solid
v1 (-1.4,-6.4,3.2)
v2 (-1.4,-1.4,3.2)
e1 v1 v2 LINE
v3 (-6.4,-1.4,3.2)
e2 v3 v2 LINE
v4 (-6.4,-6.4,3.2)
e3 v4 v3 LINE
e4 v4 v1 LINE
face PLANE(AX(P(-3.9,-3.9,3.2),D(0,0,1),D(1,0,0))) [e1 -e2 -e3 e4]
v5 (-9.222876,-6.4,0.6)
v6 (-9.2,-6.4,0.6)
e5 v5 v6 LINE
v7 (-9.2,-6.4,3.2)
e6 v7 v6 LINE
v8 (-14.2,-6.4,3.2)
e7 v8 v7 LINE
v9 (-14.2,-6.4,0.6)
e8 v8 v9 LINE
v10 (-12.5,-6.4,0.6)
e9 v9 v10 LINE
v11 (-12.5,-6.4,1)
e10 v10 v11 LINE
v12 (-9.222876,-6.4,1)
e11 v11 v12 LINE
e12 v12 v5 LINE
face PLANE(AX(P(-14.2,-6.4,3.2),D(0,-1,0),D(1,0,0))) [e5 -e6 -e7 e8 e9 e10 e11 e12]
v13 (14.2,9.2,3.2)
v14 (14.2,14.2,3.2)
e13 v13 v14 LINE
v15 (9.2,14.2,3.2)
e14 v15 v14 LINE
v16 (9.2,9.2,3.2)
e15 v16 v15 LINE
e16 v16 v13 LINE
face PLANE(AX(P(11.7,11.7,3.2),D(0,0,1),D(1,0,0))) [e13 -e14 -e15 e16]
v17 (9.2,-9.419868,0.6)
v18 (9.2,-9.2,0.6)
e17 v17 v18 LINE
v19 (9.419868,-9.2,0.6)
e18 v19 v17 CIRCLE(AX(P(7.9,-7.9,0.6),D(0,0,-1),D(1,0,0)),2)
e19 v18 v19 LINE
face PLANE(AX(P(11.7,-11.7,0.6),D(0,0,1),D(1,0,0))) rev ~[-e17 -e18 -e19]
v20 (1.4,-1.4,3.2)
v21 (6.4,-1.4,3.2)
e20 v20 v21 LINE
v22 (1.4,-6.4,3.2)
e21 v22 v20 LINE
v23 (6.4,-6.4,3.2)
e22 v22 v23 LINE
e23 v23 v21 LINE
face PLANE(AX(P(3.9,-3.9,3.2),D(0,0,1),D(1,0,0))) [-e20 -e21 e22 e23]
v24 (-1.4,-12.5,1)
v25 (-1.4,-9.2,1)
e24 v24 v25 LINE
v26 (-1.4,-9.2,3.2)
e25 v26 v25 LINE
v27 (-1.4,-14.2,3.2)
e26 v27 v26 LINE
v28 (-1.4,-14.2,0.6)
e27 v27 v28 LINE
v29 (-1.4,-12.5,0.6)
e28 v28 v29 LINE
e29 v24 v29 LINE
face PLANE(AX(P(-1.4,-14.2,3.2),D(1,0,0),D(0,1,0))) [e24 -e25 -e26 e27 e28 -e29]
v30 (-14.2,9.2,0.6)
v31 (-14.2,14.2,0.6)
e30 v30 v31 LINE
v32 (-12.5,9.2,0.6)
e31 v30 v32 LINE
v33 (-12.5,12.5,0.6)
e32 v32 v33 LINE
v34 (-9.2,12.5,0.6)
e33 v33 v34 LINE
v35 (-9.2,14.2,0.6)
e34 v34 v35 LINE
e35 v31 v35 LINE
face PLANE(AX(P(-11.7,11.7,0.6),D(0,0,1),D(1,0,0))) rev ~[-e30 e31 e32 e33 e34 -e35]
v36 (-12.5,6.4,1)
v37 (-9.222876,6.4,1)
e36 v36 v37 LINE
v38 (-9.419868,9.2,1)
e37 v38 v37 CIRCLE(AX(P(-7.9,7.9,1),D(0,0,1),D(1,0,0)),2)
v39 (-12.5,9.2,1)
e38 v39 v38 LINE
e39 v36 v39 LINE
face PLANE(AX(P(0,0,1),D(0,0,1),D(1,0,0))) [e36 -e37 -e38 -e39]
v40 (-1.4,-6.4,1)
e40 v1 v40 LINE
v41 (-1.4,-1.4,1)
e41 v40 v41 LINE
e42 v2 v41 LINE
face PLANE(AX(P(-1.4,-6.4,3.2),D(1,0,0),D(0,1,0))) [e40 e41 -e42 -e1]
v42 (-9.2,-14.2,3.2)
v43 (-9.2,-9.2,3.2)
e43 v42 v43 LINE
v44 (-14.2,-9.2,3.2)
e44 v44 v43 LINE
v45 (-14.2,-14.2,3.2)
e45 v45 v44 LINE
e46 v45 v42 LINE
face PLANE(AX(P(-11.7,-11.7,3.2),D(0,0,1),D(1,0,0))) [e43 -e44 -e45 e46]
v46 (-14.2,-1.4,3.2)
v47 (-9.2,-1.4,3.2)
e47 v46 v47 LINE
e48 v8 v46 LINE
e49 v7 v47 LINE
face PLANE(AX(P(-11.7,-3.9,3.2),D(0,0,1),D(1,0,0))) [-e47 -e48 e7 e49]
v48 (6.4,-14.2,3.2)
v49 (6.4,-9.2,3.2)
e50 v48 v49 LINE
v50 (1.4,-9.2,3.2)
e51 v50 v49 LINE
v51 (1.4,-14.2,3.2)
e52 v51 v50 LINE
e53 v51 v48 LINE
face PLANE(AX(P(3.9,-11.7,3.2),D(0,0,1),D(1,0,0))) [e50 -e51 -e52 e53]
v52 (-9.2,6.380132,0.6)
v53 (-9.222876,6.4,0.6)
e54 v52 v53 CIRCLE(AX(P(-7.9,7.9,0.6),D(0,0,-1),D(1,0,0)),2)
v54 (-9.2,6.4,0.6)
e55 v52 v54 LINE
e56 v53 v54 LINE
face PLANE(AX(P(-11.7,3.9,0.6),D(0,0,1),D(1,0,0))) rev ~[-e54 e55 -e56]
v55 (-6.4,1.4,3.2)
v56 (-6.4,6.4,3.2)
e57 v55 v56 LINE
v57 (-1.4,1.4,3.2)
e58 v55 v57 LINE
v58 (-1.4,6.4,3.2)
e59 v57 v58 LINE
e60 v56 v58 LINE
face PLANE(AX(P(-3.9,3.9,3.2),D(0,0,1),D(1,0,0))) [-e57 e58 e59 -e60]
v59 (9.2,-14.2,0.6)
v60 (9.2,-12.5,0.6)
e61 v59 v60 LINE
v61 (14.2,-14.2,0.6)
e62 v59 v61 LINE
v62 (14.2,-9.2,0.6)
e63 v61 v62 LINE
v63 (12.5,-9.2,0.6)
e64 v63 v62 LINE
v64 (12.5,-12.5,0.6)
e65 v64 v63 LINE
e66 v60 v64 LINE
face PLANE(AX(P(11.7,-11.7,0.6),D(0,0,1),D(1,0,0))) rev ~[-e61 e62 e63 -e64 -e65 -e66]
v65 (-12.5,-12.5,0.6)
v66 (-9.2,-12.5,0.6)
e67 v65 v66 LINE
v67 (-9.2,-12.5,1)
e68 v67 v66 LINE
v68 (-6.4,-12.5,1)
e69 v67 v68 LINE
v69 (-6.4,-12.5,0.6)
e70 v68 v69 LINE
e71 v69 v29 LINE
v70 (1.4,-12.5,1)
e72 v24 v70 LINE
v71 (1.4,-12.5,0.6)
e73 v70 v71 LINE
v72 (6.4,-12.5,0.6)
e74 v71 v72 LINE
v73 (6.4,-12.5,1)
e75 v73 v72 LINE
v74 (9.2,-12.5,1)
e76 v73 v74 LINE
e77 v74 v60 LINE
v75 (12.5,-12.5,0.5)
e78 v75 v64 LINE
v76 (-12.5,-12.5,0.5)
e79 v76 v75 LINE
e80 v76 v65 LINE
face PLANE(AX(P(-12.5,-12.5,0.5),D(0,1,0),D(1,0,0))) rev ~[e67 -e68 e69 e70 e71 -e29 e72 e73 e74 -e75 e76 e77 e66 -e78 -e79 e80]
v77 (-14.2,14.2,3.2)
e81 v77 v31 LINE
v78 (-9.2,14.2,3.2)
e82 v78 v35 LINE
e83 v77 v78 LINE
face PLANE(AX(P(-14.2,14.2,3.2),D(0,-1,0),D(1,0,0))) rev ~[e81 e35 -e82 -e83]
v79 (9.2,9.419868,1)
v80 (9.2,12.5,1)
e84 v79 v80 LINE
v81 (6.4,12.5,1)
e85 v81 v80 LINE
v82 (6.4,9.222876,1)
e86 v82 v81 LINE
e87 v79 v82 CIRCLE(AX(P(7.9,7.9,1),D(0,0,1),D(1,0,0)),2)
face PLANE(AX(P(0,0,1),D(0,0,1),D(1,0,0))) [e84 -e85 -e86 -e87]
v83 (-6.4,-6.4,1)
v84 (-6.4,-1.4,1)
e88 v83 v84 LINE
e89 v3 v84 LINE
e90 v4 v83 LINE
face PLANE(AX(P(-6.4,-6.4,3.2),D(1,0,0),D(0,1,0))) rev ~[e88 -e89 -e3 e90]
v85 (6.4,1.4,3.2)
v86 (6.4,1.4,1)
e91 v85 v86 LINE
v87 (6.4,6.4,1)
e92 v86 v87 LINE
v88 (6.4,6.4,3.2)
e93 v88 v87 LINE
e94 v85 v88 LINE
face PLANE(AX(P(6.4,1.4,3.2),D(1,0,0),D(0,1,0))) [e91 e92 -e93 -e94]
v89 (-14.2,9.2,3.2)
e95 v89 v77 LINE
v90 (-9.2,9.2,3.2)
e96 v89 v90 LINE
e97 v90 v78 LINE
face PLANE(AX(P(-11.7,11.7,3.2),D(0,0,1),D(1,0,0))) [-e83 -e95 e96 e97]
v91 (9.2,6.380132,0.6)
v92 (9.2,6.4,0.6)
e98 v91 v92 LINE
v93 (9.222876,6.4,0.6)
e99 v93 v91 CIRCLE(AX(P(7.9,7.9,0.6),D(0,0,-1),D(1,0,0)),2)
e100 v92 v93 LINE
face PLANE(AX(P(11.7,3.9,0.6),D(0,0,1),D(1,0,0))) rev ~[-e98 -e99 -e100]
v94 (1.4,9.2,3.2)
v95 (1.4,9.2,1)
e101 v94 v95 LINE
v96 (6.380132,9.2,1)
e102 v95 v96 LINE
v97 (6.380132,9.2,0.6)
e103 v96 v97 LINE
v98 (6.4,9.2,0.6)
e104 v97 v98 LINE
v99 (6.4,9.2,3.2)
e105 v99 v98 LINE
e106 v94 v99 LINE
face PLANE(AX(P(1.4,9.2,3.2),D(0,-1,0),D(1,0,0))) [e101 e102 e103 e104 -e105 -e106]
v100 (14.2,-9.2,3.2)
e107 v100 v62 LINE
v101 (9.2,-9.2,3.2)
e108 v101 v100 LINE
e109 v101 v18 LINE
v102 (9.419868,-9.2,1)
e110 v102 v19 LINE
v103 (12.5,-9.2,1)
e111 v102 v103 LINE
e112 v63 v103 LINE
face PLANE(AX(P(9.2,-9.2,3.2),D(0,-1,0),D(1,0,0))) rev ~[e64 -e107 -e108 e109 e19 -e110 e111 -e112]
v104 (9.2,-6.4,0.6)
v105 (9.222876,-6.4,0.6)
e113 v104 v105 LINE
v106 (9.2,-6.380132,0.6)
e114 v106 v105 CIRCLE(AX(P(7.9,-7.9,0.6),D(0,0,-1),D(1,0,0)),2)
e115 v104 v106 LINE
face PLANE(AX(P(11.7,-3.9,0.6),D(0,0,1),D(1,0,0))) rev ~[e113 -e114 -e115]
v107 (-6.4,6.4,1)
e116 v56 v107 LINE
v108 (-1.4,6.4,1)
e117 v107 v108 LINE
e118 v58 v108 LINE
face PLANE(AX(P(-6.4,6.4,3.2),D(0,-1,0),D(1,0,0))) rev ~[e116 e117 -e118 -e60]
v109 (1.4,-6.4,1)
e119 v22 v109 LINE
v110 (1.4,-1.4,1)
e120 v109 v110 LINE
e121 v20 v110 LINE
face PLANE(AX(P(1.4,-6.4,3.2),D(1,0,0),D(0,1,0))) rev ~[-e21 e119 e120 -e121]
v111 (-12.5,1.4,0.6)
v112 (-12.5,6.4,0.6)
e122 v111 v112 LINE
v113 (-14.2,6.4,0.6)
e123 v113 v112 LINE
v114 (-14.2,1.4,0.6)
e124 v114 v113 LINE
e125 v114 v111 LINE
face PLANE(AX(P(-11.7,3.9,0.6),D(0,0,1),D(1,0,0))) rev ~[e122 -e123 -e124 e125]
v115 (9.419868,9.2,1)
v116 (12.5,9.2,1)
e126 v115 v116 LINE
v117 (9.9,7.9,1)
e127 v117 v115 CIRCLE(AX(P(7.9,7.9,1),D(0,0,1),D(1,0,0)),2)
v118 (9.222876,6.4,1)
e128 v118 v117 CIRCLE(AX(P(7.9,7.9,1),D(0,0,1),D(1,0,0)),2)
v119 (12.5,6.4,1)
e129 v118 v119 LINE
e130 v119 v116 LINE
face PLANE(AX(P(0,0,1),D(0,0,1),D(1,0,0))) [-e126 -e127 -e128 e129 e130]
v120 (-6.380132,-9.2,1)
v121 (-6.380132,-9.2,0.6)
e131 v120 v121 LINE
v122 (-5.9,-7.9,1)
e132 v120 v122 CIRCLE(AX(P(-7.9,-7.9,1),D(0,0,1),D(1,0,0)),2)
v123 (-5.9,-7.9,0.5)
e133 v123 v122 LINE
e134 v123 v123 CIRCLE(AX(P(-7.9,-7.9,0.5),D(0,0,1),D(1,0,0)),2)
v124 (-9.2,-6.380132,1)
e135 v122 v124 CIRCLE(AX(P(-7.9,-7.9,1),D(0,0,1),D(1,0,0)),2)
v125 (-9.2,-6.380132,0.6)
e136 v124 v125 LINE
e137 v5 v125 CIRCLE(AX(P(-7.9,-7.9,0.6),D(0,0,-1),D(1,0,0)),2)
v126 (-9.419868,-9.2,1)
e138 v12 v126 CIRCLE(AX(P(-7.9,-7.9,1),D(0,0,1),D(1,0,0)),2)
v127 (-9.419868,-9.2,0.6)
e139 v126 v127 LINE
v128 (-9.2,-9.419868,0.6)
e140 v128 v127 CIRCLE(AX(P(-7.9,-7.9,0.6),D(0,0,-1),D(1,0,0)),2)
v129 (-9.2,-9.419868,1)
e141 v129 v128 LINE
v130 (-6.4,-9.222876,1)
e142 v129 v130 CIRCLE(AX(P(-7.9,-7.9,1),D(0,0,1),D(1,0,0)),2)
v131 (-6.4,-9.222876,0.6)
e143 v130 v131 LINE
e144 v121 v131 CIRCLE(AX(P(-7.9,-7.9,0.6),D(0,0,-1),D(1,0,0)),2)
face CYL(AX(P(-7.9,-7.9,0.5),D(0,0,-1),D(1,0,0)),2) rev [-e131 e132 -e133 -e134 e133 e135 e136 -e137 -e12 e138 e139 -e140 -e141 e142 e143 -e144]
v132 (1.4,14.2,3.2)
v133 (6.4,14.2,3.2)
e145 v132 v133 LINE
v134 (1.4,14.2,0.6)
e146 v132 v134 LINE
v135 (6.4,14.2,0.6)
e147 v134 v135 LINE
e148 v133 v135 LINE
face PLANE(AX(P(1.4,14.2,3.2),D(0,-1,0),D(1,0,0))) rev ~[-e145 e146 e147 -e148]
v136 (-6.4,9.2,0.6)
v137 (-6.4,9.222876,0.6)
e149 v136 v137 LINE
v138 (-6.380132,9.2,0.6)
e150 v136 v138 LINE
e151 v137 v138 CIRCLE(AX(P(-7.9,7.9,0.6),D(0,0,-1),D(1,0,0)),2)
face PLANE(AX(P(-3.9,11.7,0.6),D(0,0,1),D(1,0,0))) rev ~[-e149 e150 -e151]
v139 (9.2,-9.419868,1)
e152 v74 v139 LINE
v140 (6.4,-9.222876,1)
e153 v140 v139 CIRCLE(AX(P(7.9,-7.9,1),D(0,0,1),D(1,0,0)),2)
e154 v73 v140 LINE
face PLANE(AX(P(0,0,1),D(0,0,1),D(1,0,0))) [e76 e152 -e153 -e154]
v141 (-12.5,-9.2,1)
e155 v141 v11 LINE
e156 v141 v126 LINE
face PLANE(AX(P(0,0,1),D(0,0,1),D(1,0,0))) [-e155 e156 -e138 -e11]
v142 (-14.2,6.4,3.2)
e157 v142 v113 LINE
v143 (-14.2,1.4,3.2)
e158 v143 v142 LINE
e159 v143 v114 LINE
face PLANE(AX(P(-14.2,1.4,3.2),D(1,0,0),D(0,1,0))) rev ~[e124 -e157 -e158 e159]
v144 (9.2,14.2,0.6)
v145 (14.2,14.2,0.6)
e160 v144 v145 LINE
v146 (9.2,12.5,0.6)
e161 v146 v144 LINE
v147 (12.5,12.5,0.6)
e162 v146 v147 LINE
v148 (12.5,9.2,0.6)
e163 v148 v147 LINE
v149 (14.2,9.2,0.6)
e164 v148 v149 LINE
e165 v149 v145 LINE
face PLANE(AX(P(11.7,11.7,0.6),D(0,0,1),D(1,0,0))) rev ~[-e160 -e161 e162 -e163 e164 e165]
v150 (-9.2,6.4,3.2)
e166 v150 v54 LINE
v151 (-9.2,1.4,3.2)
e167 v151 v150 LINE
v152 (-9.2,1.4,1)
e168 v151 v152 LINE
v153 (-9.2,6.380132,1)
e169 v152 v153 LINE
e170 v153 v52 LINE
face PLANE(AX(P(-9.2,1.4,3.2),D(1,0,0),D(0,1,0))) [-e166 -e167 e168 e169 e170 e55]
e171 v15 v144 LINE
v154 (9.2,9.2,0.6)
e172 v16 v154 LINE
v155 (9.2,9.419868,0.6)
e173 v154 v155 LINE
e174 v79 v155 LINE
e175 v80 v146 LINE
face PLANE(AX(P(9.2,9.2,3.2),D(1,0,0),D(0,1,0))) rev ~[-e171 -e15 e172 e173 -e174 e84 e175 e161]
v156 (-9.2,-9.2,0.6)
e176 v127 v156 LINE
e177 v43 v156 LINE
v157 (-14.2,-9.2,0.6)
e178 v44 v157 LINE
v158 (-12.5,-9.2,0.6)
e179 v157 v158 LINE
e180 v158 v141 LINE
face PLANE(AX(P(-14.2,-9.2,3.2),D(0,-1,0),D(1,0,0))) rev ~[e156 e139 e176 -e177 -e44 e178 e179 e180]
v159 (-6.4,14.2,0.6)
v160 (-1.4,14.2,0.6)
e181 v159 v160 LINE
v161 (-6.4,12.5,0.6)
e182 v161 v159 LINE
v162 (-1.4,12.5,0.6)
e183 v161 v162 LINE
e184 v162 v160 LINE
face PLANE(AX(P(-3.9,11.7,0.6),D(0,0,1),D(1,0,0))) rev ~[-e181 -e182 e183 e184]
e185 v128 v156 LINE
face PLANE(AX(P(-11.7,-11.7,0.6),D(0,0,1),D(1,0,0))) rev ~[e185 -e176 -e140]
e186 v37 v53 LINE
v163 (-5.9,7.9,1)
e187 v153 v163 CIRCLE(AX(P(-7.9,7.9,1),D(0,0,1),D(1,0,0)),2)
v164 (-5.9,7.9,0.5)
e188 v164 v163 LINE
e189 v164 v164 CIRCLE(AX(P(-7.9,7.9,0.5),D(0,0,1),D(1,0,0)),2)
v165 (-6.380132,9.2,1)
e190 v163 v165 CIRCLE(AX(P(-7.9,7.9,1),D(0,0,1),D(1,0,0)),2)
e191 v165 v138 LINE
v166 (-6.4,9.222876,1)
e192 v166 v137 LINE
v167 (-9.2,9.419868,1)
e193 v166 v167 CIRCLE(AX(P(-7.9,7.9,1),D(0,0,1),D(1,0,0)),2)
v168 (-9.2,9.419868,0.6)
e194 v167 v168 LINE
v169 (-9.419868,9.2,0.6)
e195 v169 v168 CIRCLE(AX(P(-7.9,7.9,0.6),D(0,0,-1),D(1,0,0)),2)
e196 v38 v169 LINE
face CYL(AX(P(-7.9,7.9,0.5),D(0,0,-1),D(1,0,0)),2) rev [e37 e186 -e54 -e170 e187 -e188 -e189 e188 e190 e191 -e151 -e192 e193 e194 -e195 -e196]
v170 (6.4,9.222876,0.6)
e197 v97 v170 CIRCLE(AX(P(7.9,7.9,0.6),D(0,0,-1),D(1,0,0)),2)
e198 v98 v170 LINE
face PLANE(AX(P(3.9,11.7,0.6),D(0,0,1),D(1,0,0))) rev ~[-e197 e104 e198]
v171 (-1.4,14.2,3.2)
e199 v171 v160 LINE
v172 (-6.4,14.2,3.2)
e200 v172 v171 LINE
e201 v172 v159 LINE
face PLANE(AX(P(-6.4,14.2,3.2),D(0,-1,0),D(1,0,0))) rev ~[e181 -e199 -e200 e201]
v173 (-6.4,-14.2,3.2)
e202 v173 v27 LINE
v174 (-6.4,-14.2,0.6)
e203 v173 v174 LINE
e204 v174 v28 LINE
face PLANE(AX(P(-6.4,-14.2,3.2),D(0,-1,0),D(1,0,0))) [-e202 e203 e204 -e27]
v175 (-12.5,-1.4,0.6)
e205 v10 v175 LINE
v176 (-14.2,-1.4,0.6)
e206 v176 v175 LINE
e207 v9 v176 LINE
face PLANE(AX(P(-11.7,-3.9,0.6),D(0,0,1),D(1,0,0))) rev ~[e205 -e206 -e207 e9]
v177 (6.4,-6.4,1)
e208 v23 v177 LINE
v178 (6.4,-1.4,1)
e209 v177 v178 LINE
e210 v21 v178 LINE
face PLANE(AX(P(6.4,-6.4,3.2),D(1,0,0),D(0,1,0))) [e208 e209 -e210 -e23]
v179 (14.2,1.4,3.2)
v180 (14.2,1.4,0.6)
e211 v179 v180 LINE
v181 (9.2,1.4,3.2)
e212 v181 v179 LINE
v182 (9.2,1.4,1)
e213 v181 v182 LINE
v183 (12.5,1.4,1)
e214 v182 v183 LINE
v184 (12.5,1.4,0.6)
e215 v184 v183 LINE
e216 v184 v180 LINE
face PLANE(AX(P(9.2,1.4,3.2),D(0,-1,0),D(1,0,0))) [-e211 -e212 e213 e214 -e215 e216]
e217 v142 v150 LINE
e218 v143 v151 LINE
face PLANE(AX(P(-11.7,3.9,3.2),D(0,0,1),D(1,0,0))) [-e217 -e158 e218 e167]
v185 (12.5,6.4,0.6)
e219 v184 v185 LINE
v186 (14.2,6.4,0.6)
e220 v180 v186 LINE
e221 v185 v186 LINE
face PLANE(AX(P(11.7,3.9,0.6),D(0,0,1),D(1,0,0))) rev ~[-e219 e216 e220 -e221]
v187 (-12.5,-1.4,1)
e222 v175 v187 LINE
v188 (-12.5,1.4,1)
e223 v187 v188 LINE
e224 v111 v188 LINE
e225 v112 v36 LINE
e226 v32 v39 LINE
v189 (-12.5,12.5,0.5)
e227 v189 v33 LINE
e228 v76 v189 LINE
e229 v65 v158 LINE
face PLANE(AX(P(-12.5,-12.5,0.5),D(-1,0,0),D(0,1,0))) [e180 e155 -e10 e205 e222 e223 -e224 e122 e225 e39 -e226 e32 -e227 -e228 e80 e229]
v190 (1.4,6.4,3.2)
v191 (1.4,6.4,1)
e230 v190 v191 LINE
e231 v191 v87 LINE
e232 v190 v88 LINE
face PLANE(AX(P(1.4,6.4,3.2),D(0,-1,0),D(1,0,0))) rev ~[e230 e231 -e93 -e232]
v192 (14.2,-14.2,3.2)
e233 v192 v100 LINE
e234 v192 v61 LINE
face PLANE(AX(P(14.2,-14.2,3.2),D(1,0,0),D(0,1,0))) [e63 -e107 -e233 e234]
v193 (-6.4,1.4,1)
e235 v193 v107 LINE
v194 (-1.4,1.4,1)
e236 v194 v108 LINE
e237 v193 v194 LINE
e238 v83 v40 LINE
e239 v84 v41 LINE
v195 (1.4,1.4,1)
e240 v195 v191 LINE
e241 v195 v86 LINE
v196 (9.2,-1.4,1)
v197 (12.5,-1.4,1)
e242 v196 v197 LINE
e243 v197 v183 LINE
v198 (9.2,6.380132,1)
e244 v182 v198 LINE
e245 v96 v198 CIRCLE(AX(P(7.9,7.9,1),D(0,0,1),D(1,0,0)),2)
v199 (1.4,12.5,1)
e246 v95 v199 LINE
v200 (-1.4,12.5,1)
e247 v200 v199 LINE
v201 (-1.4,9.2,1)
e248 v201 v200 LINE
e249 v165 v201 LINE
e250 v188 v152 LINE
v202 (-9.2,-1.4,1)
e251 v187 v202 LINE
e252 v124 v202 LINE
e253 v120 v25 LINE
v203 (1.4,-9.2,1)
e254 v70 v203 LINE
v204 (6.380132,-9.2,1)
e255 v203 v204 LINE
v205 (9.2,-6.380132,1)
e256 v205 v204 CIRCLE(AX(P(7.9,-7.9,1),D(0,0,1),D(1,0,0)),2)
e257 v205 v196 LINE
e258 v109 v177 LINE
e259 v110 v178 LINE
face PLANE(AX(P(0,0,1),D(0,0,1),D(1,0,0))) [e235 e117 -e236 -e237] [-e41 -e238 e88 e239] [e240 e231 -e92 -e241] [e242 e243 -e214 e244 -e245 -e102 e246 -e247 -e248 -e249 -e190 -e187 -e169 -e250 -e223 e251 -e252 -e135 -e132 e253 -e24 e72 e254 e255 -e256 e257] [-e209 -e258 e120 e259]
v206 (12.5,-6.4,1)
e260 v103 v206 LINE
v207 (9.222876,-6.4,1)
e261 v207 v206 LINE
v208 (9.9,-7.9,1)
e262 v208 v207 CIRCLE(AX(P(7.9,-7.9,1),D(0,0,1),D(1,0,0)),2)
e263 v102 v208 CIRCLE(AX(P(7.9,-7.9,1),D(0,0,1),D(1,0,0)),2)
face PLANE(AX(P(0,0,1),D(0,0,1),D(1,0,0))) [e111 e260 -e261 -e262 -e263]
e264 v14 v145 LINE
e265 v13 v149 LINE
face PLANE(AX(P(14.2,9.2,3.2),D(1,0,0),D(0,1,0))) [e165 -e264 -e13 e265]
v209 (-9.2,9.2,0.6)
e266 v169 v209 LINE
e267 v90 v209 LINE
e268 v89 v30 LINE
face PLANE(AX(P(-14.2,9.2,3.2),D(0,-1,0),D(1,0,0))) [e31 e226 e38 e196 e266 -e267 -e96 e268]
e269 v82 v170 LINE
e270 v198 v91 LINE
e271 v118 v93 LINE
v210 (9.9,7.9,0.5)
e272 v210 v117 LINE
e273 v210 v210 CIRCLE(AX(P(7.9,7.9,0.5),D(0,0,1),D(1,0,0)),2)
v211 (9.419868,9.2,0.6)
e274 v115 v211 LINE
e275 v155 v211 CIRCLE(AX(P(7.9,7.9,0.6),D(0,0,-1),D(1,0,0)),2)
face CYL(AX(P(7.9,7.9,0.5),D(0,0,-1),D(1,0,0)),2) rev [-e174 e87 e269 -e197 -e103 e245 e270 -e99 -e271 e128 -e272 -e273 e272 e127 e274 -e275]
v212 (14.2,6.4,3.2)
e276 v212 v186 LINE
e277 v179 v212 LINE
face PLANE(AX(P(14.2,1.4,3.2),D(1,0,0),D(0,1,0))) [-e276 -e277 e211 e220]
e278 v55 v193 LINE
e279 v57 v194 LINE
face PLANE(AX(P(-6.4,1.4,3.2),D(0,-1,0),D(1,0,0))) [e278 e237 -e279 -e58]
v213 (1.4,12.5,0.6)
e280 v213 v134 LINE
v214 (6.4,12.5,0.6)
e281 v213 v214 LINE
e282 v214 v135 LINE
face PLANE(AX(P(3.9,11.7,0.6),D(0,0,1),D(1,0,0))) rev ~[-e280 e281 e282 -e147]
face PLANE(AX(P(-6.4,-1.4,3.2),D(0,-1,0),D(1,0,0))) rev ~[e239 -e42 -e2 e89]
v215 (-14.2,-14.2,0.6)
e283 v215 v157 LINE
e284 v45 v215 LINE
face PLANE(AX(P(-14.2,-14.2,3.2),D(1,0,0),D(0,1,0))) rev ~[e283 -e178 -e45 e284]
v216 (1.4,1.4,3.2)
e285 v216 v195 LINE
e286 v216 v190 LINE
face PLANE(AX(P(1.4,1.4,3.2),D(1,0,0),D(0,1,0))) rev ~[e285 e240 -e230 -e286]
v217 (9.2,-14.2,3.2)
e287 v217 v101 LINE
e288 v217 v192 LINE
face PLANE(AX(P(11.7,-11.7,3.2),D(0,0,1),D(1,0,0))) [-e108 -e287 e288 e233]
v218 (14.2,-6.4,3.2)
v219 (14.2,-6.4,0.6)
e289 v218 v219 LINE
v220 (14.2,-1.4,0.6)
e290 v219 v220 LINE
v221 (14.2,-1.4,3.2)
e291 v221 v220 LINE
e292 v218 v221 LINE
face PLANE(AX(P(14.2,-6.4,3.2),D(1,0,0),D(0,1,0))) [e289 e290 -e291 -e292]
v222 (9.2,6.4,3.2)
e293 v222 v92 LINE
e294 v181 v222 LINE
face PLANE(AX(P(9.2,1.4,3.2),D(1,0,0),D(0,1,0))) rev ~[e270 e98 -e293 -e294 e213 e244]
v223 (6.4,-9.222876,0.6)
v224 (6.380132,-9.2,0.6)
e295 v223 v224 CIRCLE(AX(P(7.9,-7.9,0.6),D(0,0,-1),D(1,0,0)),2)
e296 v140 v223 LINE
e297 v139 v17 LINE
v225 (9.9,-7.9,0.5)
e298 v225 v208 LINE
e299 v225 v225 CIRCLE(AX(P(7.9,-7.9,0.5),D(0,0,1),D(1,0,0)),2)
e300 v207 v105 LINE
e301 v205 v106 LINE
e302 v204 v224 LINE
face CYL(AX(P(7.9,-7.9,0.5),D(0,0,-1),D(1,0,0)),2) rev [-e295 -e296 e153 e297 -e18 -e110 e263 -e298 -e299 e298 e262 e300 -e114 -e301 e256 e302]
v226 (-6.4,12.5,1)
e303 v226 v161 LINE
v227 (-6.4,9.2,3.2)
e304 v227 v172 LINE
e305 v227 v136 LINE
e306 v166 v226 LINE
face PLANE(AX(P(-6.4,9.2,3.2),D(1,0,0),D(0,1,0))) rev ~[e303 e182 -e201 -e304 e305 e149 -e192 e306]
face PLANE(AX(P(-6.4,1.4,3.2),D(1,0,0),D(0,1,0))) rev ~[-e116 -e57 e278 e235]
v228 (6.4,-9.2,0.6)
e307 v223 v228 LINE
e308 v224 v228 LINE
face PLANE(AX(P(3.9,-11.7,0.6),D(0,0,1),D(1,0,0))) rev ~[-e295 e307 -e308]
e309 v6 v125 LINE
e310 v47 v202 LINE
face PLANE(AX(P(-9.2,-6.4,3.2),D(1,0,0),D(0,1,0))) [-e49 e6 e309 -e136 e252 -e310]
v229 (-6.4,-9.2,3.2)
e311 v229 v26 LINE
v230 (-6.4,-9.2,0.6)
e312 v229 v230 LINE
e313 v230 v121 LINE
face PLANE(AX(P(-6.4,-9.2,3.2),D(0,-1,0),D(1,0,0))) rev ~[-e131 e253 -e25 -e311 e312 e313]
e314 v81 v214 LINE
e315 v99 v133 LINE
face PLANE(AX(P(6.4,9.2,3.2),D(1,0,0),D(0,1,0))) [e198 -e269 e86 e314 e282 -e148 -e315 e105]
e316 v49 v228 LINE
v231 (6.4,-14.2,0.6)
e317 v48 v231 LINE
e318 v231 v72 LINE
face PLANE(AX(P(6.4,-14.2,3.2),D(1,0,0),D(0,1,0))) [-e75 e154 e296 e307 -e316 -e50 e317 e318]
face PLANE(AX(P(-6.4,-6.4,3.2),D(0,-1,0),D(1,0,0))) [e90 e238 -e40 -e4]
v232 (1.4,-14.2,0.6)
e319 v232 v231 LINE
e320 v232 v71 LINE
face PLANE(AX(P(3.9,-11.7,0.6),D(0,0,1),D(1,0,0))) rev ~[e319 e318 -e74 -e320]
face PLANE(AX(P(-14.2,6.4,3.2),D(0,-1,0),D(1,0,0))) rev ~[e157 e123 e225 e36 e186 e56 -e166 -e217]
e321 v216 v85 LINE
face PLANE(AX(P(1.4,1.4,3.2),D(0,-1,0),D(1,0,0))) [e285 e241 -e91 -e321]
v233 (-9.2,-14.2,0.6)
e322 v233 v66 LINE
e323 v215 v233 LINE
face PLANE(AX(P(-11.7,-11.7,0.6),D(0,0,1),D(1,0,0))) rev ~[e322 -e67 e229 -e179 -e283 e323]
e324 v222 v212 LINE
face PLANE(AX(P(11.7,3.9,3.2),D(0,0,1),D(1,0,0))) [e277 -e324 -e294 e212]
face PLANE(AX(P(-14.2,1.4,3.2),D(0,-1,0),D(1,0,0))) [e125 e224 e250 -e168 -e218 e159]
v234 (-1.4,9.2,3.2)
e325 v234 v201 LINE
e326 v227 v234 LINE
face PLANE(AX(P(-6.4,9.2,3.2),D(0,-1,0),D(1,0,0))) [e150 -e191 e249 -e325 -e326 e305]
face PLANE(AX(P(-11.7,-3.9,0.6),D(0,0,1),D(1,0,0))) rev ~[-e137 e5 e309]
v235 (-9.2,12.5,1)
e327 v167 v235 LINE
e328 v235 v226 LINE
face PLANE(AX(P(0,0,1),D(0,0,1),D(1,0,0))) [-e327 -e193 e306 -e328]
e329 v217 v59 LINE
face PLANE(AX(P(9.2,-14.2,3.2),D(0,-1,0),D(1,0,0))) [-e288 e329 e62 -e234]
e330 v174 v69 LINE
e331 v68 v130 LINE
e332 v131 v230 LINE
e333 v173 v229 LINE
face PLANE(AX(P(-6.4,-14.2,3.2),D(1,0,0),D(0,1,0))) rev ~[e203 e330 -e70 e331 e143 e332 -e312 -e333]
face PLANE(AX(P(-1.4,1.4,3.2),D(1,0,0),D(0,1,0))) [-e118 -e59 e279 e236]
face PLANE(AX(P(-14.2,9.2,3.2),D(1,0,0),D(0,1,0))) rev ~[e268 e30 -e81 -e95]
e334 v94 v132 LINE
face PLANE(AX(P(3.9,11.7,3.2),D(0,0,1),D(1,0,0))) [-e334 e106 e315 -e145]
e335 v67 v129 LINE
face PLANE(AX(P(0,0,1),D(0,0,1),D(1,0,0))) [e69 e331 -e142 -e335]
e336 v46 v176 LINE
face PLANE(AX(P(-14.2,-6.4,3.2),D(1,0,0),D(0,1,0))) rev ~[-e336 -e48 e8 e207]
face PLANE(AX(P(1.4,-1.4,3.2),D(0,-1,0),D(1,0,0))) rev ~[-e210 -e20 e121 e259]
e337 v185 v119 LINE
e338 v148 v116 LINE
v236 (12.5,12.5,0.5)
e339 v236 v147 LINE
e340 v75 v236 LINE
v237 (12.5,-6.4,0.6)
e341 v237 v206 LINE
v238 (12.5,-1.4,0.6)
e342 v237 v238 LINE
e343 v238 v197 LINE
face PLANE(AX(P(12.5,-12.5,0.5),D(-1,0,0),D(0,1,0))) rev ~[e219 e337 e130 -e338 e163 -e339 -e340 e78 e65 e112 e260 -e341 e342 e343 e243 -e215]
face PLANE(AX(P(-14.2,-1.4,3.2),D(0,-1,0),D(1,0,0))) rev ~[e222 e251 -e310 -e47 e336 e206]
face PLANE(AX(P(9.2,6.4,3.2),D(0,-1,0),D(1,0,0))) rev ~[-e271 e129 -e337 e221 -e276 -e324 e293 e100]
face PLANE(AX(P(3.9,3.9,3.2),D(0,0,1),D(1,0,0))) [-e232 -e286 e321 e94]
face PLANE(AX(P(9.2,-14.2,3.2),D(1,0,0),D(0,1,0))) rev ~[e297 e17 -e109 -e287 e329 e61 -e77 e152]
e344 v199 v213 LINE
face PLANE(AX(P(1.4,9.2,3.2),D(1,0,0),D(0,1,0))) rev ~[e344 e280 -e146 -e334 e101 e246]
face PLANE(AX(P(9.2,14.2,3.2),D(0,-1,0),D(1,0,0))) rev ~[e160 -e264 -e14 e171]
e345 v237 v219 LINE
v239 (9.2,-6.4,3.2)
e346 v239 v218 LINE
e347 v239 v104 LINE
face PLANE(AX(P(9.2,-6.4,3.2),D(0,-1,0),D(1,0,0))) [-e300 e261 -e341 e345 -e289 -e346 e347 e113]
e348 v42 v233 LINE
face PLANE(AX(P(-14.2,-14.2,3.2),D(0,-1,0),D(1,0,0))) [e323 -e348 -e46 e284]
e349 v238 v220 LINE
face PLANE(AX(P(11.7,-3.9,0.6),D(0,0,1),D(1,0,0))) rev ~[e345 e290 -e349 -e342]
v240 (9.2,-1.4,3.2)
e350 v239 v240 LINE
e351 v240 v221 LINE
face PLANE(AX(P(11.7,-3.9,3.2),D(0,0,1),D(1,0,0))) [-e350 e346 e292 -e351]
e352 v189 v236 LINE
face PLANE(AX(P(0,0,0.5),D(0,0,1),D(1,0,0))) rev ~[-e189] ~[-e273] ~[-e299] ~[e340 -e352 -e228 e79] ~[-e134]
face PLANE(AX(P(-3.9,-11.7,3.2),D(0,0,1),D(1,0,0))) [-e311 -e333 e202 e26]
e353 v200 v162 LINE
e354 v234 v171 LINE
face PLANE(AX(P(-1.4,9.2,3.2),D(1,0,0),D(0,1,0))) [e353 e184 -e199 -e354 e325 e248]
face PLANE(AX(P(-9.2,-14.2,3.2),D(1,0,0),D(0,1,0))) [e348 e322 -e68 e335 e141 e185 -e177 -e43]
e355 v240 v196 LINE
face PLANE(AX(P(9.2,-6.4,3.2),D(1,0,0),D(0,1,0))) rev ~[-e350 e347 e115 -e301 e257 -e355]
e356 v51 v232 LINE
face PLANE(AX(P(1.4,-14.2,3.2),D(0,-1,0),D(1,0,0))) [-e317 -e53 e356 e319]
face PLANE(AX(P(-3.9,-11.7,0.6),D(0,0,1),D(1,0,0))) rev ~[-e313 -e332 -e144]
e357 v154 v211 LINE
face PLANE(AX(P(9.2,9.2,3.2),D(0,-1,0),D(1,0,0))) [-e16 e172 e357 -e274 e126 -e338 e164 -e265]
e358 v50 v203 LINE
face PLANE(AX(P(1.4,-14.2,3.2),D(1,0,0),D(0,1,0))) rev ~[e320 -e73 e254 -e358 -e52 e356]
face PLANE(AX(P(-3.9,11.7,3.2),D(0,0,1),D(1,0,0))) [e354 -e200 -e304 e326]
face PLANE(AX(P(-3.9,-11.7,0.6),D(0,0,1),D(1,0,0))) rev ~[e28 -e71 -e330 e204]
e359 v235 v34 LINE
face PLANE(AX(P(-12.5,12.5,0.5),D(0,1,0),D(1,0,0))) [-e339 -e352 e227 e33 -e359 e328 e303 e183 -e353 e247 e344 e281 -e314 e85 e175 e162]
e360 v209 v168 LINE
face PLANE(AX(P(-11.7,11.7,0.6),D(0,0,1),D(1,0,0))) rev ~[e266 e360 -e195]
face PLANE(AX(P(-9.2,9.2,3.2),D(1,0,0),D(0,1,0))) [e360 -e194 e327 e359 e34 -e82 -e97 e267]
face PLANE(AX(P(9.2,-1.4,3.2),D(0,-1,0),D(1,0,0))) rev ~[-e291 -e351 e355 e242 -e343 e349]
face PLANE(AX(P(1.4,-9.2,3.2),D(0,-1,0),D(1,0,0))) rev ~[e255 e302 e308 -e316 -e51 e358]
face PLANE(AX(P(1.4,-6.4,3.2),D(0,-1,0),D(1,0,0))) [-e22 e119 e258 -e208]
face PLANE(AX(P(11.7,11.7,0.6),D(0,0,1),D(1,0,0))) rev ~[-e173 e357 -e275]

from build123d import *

# Parameters (mm, degrees)
SKETCH008_W                     = 25
SKETCH008_H                     = 25
SKETCH008_R                     = 2
PAD007_DEPTH                    = 0.5
SKETCH009_W                     = 5
SKETCH009_H                     = 5
PAD008_DEPTH                    = 2.6
SKETCH009_LINEARPATTERN008_2_W  = 5
SKETCH009_LINEARPATTERN008_2_H  = 5
PAD008_LINEARPATTERN008_2_DEPTH = 2.6
SKETCH009_LINEARPATTERN008_3_W  = 5
SKETCH009_LINEARPATTERN008_3_H  = 5
PAD008_LINEARPATTERN008_3_DEPTH = 2.6
SKETCH009_LINEARPATTERN008_4_W  = 5
SKETCH009_LINEARPATTERN008_4_H  = 5
PAD008_LINEARPATTERN008_4_DEPTH = 2.6
LINEARPATTERN007_COUNT          = 4
LINEARPATTERN007_PITCH          = 7.8


with BuildPart() as part:
    # Sketch008 → Pad007 (new body)
    with BuildSketch(Plane.XY.offset(0.5)):
        Rectangle(SKETCH008_W, SKETCH008_H)
        with Locations((-7.9, 7.9)):
            Circle(SKETCH008_R, mode=Mode.SUBTRACT)
        with Locations((7.9, 7.9)):
            Circle(SKETCH008_R, mode=Mode.SUBTRACT)
        with Locations((7.9, -7.9)):
            Circle(SKETCH008_R, mode=Mode.SUBTRACT)
        with Locations((-7.9, -7.9)):
            Circle(SKETCH008_R, mode=Mode.SUBTRACT)
    extrude(amount=PAD007_DEPTH)

    # Sketch009 → Pad008 (join)
    with BuildSketch(Plane.XY.offset(3.2)):
        with Locations((-11.7, -11.7)):
            Rectangle(SKETCH009_W, SKETCH009_H)
    pad008 = extrude(amount=-PAD008_DEPTH)

    # Sketch009 LinearPattern008 2 → Pad008 LinearPattern008 2 (add)
    with BuildSketch(Plane(origin=(7.8, 0, 3.2), x_dir=(1, 0, 0), z_dir=(0, 0, 1))):
        with Locations((-11.7, -11.7)):
            Rectangle(SKETCH009_LINEARPATTERN008_2_W, SKETCH009_LINEARPATTERN008_2_H)
    pad008_linearpattern008_2 = extrude(amount=-PAD008_LINEARPATTERN008_2_DEPTH)

    # Sketch009 LinearPattern008 3 → Pad008 LinearPattern008 3 (add)
    with BuildSketch(Plane(origin=(15.6, 0, 3.2), x_dir=(1, 0, 0), z_dir=(0, 0, 1))):
        with Locations((-11.7, -11.7)):
            Rectangle(SKETCH009_LINEARPATTERN008_3_W, SKETCH009_LINEARPATTERN008_3_H)
    pad008_linearpattern008_3 = extrude(amount=-PAD008_LINEARPATTERN008_3_DEPTH)

    # Sketch009 LinearPattern008 4 → Pad008 LinearPattern008 4 (add)
    with BuildSketch(Plane(origin=(23.4, 0, 3.2), x_dir=(1, 0, 0), z_dir=(0, 0, 1))):
        with Locations((-11.7, -11.7)):
            Rectangle(SKETCH009_LINEARPATTERN008_4_W, SKETCH009_LINEARPATTERN008_4_H)
    pad008_linearpattern008_4 = extrude(amount=-PAD008_LINEARPATTERN008_4_DEPTH)

    # LinearPattern007: Pad008, Pad008 LinearPattern008 2, Pad008 LinearPattern008 3, Pad008 LinearPattern008 4 ×4
    with Locations(*[(0, i * LINEARPATTERN007_PITCH, 0) for i in range(1, LINEARPATTERN007_COUNT)]):
        add(pad008)
        add(pad008_linearpattern008_2)
        add(pad008_linearpattern008_3)
        add(pad008_linearpattern008_4)


solid = part.part
